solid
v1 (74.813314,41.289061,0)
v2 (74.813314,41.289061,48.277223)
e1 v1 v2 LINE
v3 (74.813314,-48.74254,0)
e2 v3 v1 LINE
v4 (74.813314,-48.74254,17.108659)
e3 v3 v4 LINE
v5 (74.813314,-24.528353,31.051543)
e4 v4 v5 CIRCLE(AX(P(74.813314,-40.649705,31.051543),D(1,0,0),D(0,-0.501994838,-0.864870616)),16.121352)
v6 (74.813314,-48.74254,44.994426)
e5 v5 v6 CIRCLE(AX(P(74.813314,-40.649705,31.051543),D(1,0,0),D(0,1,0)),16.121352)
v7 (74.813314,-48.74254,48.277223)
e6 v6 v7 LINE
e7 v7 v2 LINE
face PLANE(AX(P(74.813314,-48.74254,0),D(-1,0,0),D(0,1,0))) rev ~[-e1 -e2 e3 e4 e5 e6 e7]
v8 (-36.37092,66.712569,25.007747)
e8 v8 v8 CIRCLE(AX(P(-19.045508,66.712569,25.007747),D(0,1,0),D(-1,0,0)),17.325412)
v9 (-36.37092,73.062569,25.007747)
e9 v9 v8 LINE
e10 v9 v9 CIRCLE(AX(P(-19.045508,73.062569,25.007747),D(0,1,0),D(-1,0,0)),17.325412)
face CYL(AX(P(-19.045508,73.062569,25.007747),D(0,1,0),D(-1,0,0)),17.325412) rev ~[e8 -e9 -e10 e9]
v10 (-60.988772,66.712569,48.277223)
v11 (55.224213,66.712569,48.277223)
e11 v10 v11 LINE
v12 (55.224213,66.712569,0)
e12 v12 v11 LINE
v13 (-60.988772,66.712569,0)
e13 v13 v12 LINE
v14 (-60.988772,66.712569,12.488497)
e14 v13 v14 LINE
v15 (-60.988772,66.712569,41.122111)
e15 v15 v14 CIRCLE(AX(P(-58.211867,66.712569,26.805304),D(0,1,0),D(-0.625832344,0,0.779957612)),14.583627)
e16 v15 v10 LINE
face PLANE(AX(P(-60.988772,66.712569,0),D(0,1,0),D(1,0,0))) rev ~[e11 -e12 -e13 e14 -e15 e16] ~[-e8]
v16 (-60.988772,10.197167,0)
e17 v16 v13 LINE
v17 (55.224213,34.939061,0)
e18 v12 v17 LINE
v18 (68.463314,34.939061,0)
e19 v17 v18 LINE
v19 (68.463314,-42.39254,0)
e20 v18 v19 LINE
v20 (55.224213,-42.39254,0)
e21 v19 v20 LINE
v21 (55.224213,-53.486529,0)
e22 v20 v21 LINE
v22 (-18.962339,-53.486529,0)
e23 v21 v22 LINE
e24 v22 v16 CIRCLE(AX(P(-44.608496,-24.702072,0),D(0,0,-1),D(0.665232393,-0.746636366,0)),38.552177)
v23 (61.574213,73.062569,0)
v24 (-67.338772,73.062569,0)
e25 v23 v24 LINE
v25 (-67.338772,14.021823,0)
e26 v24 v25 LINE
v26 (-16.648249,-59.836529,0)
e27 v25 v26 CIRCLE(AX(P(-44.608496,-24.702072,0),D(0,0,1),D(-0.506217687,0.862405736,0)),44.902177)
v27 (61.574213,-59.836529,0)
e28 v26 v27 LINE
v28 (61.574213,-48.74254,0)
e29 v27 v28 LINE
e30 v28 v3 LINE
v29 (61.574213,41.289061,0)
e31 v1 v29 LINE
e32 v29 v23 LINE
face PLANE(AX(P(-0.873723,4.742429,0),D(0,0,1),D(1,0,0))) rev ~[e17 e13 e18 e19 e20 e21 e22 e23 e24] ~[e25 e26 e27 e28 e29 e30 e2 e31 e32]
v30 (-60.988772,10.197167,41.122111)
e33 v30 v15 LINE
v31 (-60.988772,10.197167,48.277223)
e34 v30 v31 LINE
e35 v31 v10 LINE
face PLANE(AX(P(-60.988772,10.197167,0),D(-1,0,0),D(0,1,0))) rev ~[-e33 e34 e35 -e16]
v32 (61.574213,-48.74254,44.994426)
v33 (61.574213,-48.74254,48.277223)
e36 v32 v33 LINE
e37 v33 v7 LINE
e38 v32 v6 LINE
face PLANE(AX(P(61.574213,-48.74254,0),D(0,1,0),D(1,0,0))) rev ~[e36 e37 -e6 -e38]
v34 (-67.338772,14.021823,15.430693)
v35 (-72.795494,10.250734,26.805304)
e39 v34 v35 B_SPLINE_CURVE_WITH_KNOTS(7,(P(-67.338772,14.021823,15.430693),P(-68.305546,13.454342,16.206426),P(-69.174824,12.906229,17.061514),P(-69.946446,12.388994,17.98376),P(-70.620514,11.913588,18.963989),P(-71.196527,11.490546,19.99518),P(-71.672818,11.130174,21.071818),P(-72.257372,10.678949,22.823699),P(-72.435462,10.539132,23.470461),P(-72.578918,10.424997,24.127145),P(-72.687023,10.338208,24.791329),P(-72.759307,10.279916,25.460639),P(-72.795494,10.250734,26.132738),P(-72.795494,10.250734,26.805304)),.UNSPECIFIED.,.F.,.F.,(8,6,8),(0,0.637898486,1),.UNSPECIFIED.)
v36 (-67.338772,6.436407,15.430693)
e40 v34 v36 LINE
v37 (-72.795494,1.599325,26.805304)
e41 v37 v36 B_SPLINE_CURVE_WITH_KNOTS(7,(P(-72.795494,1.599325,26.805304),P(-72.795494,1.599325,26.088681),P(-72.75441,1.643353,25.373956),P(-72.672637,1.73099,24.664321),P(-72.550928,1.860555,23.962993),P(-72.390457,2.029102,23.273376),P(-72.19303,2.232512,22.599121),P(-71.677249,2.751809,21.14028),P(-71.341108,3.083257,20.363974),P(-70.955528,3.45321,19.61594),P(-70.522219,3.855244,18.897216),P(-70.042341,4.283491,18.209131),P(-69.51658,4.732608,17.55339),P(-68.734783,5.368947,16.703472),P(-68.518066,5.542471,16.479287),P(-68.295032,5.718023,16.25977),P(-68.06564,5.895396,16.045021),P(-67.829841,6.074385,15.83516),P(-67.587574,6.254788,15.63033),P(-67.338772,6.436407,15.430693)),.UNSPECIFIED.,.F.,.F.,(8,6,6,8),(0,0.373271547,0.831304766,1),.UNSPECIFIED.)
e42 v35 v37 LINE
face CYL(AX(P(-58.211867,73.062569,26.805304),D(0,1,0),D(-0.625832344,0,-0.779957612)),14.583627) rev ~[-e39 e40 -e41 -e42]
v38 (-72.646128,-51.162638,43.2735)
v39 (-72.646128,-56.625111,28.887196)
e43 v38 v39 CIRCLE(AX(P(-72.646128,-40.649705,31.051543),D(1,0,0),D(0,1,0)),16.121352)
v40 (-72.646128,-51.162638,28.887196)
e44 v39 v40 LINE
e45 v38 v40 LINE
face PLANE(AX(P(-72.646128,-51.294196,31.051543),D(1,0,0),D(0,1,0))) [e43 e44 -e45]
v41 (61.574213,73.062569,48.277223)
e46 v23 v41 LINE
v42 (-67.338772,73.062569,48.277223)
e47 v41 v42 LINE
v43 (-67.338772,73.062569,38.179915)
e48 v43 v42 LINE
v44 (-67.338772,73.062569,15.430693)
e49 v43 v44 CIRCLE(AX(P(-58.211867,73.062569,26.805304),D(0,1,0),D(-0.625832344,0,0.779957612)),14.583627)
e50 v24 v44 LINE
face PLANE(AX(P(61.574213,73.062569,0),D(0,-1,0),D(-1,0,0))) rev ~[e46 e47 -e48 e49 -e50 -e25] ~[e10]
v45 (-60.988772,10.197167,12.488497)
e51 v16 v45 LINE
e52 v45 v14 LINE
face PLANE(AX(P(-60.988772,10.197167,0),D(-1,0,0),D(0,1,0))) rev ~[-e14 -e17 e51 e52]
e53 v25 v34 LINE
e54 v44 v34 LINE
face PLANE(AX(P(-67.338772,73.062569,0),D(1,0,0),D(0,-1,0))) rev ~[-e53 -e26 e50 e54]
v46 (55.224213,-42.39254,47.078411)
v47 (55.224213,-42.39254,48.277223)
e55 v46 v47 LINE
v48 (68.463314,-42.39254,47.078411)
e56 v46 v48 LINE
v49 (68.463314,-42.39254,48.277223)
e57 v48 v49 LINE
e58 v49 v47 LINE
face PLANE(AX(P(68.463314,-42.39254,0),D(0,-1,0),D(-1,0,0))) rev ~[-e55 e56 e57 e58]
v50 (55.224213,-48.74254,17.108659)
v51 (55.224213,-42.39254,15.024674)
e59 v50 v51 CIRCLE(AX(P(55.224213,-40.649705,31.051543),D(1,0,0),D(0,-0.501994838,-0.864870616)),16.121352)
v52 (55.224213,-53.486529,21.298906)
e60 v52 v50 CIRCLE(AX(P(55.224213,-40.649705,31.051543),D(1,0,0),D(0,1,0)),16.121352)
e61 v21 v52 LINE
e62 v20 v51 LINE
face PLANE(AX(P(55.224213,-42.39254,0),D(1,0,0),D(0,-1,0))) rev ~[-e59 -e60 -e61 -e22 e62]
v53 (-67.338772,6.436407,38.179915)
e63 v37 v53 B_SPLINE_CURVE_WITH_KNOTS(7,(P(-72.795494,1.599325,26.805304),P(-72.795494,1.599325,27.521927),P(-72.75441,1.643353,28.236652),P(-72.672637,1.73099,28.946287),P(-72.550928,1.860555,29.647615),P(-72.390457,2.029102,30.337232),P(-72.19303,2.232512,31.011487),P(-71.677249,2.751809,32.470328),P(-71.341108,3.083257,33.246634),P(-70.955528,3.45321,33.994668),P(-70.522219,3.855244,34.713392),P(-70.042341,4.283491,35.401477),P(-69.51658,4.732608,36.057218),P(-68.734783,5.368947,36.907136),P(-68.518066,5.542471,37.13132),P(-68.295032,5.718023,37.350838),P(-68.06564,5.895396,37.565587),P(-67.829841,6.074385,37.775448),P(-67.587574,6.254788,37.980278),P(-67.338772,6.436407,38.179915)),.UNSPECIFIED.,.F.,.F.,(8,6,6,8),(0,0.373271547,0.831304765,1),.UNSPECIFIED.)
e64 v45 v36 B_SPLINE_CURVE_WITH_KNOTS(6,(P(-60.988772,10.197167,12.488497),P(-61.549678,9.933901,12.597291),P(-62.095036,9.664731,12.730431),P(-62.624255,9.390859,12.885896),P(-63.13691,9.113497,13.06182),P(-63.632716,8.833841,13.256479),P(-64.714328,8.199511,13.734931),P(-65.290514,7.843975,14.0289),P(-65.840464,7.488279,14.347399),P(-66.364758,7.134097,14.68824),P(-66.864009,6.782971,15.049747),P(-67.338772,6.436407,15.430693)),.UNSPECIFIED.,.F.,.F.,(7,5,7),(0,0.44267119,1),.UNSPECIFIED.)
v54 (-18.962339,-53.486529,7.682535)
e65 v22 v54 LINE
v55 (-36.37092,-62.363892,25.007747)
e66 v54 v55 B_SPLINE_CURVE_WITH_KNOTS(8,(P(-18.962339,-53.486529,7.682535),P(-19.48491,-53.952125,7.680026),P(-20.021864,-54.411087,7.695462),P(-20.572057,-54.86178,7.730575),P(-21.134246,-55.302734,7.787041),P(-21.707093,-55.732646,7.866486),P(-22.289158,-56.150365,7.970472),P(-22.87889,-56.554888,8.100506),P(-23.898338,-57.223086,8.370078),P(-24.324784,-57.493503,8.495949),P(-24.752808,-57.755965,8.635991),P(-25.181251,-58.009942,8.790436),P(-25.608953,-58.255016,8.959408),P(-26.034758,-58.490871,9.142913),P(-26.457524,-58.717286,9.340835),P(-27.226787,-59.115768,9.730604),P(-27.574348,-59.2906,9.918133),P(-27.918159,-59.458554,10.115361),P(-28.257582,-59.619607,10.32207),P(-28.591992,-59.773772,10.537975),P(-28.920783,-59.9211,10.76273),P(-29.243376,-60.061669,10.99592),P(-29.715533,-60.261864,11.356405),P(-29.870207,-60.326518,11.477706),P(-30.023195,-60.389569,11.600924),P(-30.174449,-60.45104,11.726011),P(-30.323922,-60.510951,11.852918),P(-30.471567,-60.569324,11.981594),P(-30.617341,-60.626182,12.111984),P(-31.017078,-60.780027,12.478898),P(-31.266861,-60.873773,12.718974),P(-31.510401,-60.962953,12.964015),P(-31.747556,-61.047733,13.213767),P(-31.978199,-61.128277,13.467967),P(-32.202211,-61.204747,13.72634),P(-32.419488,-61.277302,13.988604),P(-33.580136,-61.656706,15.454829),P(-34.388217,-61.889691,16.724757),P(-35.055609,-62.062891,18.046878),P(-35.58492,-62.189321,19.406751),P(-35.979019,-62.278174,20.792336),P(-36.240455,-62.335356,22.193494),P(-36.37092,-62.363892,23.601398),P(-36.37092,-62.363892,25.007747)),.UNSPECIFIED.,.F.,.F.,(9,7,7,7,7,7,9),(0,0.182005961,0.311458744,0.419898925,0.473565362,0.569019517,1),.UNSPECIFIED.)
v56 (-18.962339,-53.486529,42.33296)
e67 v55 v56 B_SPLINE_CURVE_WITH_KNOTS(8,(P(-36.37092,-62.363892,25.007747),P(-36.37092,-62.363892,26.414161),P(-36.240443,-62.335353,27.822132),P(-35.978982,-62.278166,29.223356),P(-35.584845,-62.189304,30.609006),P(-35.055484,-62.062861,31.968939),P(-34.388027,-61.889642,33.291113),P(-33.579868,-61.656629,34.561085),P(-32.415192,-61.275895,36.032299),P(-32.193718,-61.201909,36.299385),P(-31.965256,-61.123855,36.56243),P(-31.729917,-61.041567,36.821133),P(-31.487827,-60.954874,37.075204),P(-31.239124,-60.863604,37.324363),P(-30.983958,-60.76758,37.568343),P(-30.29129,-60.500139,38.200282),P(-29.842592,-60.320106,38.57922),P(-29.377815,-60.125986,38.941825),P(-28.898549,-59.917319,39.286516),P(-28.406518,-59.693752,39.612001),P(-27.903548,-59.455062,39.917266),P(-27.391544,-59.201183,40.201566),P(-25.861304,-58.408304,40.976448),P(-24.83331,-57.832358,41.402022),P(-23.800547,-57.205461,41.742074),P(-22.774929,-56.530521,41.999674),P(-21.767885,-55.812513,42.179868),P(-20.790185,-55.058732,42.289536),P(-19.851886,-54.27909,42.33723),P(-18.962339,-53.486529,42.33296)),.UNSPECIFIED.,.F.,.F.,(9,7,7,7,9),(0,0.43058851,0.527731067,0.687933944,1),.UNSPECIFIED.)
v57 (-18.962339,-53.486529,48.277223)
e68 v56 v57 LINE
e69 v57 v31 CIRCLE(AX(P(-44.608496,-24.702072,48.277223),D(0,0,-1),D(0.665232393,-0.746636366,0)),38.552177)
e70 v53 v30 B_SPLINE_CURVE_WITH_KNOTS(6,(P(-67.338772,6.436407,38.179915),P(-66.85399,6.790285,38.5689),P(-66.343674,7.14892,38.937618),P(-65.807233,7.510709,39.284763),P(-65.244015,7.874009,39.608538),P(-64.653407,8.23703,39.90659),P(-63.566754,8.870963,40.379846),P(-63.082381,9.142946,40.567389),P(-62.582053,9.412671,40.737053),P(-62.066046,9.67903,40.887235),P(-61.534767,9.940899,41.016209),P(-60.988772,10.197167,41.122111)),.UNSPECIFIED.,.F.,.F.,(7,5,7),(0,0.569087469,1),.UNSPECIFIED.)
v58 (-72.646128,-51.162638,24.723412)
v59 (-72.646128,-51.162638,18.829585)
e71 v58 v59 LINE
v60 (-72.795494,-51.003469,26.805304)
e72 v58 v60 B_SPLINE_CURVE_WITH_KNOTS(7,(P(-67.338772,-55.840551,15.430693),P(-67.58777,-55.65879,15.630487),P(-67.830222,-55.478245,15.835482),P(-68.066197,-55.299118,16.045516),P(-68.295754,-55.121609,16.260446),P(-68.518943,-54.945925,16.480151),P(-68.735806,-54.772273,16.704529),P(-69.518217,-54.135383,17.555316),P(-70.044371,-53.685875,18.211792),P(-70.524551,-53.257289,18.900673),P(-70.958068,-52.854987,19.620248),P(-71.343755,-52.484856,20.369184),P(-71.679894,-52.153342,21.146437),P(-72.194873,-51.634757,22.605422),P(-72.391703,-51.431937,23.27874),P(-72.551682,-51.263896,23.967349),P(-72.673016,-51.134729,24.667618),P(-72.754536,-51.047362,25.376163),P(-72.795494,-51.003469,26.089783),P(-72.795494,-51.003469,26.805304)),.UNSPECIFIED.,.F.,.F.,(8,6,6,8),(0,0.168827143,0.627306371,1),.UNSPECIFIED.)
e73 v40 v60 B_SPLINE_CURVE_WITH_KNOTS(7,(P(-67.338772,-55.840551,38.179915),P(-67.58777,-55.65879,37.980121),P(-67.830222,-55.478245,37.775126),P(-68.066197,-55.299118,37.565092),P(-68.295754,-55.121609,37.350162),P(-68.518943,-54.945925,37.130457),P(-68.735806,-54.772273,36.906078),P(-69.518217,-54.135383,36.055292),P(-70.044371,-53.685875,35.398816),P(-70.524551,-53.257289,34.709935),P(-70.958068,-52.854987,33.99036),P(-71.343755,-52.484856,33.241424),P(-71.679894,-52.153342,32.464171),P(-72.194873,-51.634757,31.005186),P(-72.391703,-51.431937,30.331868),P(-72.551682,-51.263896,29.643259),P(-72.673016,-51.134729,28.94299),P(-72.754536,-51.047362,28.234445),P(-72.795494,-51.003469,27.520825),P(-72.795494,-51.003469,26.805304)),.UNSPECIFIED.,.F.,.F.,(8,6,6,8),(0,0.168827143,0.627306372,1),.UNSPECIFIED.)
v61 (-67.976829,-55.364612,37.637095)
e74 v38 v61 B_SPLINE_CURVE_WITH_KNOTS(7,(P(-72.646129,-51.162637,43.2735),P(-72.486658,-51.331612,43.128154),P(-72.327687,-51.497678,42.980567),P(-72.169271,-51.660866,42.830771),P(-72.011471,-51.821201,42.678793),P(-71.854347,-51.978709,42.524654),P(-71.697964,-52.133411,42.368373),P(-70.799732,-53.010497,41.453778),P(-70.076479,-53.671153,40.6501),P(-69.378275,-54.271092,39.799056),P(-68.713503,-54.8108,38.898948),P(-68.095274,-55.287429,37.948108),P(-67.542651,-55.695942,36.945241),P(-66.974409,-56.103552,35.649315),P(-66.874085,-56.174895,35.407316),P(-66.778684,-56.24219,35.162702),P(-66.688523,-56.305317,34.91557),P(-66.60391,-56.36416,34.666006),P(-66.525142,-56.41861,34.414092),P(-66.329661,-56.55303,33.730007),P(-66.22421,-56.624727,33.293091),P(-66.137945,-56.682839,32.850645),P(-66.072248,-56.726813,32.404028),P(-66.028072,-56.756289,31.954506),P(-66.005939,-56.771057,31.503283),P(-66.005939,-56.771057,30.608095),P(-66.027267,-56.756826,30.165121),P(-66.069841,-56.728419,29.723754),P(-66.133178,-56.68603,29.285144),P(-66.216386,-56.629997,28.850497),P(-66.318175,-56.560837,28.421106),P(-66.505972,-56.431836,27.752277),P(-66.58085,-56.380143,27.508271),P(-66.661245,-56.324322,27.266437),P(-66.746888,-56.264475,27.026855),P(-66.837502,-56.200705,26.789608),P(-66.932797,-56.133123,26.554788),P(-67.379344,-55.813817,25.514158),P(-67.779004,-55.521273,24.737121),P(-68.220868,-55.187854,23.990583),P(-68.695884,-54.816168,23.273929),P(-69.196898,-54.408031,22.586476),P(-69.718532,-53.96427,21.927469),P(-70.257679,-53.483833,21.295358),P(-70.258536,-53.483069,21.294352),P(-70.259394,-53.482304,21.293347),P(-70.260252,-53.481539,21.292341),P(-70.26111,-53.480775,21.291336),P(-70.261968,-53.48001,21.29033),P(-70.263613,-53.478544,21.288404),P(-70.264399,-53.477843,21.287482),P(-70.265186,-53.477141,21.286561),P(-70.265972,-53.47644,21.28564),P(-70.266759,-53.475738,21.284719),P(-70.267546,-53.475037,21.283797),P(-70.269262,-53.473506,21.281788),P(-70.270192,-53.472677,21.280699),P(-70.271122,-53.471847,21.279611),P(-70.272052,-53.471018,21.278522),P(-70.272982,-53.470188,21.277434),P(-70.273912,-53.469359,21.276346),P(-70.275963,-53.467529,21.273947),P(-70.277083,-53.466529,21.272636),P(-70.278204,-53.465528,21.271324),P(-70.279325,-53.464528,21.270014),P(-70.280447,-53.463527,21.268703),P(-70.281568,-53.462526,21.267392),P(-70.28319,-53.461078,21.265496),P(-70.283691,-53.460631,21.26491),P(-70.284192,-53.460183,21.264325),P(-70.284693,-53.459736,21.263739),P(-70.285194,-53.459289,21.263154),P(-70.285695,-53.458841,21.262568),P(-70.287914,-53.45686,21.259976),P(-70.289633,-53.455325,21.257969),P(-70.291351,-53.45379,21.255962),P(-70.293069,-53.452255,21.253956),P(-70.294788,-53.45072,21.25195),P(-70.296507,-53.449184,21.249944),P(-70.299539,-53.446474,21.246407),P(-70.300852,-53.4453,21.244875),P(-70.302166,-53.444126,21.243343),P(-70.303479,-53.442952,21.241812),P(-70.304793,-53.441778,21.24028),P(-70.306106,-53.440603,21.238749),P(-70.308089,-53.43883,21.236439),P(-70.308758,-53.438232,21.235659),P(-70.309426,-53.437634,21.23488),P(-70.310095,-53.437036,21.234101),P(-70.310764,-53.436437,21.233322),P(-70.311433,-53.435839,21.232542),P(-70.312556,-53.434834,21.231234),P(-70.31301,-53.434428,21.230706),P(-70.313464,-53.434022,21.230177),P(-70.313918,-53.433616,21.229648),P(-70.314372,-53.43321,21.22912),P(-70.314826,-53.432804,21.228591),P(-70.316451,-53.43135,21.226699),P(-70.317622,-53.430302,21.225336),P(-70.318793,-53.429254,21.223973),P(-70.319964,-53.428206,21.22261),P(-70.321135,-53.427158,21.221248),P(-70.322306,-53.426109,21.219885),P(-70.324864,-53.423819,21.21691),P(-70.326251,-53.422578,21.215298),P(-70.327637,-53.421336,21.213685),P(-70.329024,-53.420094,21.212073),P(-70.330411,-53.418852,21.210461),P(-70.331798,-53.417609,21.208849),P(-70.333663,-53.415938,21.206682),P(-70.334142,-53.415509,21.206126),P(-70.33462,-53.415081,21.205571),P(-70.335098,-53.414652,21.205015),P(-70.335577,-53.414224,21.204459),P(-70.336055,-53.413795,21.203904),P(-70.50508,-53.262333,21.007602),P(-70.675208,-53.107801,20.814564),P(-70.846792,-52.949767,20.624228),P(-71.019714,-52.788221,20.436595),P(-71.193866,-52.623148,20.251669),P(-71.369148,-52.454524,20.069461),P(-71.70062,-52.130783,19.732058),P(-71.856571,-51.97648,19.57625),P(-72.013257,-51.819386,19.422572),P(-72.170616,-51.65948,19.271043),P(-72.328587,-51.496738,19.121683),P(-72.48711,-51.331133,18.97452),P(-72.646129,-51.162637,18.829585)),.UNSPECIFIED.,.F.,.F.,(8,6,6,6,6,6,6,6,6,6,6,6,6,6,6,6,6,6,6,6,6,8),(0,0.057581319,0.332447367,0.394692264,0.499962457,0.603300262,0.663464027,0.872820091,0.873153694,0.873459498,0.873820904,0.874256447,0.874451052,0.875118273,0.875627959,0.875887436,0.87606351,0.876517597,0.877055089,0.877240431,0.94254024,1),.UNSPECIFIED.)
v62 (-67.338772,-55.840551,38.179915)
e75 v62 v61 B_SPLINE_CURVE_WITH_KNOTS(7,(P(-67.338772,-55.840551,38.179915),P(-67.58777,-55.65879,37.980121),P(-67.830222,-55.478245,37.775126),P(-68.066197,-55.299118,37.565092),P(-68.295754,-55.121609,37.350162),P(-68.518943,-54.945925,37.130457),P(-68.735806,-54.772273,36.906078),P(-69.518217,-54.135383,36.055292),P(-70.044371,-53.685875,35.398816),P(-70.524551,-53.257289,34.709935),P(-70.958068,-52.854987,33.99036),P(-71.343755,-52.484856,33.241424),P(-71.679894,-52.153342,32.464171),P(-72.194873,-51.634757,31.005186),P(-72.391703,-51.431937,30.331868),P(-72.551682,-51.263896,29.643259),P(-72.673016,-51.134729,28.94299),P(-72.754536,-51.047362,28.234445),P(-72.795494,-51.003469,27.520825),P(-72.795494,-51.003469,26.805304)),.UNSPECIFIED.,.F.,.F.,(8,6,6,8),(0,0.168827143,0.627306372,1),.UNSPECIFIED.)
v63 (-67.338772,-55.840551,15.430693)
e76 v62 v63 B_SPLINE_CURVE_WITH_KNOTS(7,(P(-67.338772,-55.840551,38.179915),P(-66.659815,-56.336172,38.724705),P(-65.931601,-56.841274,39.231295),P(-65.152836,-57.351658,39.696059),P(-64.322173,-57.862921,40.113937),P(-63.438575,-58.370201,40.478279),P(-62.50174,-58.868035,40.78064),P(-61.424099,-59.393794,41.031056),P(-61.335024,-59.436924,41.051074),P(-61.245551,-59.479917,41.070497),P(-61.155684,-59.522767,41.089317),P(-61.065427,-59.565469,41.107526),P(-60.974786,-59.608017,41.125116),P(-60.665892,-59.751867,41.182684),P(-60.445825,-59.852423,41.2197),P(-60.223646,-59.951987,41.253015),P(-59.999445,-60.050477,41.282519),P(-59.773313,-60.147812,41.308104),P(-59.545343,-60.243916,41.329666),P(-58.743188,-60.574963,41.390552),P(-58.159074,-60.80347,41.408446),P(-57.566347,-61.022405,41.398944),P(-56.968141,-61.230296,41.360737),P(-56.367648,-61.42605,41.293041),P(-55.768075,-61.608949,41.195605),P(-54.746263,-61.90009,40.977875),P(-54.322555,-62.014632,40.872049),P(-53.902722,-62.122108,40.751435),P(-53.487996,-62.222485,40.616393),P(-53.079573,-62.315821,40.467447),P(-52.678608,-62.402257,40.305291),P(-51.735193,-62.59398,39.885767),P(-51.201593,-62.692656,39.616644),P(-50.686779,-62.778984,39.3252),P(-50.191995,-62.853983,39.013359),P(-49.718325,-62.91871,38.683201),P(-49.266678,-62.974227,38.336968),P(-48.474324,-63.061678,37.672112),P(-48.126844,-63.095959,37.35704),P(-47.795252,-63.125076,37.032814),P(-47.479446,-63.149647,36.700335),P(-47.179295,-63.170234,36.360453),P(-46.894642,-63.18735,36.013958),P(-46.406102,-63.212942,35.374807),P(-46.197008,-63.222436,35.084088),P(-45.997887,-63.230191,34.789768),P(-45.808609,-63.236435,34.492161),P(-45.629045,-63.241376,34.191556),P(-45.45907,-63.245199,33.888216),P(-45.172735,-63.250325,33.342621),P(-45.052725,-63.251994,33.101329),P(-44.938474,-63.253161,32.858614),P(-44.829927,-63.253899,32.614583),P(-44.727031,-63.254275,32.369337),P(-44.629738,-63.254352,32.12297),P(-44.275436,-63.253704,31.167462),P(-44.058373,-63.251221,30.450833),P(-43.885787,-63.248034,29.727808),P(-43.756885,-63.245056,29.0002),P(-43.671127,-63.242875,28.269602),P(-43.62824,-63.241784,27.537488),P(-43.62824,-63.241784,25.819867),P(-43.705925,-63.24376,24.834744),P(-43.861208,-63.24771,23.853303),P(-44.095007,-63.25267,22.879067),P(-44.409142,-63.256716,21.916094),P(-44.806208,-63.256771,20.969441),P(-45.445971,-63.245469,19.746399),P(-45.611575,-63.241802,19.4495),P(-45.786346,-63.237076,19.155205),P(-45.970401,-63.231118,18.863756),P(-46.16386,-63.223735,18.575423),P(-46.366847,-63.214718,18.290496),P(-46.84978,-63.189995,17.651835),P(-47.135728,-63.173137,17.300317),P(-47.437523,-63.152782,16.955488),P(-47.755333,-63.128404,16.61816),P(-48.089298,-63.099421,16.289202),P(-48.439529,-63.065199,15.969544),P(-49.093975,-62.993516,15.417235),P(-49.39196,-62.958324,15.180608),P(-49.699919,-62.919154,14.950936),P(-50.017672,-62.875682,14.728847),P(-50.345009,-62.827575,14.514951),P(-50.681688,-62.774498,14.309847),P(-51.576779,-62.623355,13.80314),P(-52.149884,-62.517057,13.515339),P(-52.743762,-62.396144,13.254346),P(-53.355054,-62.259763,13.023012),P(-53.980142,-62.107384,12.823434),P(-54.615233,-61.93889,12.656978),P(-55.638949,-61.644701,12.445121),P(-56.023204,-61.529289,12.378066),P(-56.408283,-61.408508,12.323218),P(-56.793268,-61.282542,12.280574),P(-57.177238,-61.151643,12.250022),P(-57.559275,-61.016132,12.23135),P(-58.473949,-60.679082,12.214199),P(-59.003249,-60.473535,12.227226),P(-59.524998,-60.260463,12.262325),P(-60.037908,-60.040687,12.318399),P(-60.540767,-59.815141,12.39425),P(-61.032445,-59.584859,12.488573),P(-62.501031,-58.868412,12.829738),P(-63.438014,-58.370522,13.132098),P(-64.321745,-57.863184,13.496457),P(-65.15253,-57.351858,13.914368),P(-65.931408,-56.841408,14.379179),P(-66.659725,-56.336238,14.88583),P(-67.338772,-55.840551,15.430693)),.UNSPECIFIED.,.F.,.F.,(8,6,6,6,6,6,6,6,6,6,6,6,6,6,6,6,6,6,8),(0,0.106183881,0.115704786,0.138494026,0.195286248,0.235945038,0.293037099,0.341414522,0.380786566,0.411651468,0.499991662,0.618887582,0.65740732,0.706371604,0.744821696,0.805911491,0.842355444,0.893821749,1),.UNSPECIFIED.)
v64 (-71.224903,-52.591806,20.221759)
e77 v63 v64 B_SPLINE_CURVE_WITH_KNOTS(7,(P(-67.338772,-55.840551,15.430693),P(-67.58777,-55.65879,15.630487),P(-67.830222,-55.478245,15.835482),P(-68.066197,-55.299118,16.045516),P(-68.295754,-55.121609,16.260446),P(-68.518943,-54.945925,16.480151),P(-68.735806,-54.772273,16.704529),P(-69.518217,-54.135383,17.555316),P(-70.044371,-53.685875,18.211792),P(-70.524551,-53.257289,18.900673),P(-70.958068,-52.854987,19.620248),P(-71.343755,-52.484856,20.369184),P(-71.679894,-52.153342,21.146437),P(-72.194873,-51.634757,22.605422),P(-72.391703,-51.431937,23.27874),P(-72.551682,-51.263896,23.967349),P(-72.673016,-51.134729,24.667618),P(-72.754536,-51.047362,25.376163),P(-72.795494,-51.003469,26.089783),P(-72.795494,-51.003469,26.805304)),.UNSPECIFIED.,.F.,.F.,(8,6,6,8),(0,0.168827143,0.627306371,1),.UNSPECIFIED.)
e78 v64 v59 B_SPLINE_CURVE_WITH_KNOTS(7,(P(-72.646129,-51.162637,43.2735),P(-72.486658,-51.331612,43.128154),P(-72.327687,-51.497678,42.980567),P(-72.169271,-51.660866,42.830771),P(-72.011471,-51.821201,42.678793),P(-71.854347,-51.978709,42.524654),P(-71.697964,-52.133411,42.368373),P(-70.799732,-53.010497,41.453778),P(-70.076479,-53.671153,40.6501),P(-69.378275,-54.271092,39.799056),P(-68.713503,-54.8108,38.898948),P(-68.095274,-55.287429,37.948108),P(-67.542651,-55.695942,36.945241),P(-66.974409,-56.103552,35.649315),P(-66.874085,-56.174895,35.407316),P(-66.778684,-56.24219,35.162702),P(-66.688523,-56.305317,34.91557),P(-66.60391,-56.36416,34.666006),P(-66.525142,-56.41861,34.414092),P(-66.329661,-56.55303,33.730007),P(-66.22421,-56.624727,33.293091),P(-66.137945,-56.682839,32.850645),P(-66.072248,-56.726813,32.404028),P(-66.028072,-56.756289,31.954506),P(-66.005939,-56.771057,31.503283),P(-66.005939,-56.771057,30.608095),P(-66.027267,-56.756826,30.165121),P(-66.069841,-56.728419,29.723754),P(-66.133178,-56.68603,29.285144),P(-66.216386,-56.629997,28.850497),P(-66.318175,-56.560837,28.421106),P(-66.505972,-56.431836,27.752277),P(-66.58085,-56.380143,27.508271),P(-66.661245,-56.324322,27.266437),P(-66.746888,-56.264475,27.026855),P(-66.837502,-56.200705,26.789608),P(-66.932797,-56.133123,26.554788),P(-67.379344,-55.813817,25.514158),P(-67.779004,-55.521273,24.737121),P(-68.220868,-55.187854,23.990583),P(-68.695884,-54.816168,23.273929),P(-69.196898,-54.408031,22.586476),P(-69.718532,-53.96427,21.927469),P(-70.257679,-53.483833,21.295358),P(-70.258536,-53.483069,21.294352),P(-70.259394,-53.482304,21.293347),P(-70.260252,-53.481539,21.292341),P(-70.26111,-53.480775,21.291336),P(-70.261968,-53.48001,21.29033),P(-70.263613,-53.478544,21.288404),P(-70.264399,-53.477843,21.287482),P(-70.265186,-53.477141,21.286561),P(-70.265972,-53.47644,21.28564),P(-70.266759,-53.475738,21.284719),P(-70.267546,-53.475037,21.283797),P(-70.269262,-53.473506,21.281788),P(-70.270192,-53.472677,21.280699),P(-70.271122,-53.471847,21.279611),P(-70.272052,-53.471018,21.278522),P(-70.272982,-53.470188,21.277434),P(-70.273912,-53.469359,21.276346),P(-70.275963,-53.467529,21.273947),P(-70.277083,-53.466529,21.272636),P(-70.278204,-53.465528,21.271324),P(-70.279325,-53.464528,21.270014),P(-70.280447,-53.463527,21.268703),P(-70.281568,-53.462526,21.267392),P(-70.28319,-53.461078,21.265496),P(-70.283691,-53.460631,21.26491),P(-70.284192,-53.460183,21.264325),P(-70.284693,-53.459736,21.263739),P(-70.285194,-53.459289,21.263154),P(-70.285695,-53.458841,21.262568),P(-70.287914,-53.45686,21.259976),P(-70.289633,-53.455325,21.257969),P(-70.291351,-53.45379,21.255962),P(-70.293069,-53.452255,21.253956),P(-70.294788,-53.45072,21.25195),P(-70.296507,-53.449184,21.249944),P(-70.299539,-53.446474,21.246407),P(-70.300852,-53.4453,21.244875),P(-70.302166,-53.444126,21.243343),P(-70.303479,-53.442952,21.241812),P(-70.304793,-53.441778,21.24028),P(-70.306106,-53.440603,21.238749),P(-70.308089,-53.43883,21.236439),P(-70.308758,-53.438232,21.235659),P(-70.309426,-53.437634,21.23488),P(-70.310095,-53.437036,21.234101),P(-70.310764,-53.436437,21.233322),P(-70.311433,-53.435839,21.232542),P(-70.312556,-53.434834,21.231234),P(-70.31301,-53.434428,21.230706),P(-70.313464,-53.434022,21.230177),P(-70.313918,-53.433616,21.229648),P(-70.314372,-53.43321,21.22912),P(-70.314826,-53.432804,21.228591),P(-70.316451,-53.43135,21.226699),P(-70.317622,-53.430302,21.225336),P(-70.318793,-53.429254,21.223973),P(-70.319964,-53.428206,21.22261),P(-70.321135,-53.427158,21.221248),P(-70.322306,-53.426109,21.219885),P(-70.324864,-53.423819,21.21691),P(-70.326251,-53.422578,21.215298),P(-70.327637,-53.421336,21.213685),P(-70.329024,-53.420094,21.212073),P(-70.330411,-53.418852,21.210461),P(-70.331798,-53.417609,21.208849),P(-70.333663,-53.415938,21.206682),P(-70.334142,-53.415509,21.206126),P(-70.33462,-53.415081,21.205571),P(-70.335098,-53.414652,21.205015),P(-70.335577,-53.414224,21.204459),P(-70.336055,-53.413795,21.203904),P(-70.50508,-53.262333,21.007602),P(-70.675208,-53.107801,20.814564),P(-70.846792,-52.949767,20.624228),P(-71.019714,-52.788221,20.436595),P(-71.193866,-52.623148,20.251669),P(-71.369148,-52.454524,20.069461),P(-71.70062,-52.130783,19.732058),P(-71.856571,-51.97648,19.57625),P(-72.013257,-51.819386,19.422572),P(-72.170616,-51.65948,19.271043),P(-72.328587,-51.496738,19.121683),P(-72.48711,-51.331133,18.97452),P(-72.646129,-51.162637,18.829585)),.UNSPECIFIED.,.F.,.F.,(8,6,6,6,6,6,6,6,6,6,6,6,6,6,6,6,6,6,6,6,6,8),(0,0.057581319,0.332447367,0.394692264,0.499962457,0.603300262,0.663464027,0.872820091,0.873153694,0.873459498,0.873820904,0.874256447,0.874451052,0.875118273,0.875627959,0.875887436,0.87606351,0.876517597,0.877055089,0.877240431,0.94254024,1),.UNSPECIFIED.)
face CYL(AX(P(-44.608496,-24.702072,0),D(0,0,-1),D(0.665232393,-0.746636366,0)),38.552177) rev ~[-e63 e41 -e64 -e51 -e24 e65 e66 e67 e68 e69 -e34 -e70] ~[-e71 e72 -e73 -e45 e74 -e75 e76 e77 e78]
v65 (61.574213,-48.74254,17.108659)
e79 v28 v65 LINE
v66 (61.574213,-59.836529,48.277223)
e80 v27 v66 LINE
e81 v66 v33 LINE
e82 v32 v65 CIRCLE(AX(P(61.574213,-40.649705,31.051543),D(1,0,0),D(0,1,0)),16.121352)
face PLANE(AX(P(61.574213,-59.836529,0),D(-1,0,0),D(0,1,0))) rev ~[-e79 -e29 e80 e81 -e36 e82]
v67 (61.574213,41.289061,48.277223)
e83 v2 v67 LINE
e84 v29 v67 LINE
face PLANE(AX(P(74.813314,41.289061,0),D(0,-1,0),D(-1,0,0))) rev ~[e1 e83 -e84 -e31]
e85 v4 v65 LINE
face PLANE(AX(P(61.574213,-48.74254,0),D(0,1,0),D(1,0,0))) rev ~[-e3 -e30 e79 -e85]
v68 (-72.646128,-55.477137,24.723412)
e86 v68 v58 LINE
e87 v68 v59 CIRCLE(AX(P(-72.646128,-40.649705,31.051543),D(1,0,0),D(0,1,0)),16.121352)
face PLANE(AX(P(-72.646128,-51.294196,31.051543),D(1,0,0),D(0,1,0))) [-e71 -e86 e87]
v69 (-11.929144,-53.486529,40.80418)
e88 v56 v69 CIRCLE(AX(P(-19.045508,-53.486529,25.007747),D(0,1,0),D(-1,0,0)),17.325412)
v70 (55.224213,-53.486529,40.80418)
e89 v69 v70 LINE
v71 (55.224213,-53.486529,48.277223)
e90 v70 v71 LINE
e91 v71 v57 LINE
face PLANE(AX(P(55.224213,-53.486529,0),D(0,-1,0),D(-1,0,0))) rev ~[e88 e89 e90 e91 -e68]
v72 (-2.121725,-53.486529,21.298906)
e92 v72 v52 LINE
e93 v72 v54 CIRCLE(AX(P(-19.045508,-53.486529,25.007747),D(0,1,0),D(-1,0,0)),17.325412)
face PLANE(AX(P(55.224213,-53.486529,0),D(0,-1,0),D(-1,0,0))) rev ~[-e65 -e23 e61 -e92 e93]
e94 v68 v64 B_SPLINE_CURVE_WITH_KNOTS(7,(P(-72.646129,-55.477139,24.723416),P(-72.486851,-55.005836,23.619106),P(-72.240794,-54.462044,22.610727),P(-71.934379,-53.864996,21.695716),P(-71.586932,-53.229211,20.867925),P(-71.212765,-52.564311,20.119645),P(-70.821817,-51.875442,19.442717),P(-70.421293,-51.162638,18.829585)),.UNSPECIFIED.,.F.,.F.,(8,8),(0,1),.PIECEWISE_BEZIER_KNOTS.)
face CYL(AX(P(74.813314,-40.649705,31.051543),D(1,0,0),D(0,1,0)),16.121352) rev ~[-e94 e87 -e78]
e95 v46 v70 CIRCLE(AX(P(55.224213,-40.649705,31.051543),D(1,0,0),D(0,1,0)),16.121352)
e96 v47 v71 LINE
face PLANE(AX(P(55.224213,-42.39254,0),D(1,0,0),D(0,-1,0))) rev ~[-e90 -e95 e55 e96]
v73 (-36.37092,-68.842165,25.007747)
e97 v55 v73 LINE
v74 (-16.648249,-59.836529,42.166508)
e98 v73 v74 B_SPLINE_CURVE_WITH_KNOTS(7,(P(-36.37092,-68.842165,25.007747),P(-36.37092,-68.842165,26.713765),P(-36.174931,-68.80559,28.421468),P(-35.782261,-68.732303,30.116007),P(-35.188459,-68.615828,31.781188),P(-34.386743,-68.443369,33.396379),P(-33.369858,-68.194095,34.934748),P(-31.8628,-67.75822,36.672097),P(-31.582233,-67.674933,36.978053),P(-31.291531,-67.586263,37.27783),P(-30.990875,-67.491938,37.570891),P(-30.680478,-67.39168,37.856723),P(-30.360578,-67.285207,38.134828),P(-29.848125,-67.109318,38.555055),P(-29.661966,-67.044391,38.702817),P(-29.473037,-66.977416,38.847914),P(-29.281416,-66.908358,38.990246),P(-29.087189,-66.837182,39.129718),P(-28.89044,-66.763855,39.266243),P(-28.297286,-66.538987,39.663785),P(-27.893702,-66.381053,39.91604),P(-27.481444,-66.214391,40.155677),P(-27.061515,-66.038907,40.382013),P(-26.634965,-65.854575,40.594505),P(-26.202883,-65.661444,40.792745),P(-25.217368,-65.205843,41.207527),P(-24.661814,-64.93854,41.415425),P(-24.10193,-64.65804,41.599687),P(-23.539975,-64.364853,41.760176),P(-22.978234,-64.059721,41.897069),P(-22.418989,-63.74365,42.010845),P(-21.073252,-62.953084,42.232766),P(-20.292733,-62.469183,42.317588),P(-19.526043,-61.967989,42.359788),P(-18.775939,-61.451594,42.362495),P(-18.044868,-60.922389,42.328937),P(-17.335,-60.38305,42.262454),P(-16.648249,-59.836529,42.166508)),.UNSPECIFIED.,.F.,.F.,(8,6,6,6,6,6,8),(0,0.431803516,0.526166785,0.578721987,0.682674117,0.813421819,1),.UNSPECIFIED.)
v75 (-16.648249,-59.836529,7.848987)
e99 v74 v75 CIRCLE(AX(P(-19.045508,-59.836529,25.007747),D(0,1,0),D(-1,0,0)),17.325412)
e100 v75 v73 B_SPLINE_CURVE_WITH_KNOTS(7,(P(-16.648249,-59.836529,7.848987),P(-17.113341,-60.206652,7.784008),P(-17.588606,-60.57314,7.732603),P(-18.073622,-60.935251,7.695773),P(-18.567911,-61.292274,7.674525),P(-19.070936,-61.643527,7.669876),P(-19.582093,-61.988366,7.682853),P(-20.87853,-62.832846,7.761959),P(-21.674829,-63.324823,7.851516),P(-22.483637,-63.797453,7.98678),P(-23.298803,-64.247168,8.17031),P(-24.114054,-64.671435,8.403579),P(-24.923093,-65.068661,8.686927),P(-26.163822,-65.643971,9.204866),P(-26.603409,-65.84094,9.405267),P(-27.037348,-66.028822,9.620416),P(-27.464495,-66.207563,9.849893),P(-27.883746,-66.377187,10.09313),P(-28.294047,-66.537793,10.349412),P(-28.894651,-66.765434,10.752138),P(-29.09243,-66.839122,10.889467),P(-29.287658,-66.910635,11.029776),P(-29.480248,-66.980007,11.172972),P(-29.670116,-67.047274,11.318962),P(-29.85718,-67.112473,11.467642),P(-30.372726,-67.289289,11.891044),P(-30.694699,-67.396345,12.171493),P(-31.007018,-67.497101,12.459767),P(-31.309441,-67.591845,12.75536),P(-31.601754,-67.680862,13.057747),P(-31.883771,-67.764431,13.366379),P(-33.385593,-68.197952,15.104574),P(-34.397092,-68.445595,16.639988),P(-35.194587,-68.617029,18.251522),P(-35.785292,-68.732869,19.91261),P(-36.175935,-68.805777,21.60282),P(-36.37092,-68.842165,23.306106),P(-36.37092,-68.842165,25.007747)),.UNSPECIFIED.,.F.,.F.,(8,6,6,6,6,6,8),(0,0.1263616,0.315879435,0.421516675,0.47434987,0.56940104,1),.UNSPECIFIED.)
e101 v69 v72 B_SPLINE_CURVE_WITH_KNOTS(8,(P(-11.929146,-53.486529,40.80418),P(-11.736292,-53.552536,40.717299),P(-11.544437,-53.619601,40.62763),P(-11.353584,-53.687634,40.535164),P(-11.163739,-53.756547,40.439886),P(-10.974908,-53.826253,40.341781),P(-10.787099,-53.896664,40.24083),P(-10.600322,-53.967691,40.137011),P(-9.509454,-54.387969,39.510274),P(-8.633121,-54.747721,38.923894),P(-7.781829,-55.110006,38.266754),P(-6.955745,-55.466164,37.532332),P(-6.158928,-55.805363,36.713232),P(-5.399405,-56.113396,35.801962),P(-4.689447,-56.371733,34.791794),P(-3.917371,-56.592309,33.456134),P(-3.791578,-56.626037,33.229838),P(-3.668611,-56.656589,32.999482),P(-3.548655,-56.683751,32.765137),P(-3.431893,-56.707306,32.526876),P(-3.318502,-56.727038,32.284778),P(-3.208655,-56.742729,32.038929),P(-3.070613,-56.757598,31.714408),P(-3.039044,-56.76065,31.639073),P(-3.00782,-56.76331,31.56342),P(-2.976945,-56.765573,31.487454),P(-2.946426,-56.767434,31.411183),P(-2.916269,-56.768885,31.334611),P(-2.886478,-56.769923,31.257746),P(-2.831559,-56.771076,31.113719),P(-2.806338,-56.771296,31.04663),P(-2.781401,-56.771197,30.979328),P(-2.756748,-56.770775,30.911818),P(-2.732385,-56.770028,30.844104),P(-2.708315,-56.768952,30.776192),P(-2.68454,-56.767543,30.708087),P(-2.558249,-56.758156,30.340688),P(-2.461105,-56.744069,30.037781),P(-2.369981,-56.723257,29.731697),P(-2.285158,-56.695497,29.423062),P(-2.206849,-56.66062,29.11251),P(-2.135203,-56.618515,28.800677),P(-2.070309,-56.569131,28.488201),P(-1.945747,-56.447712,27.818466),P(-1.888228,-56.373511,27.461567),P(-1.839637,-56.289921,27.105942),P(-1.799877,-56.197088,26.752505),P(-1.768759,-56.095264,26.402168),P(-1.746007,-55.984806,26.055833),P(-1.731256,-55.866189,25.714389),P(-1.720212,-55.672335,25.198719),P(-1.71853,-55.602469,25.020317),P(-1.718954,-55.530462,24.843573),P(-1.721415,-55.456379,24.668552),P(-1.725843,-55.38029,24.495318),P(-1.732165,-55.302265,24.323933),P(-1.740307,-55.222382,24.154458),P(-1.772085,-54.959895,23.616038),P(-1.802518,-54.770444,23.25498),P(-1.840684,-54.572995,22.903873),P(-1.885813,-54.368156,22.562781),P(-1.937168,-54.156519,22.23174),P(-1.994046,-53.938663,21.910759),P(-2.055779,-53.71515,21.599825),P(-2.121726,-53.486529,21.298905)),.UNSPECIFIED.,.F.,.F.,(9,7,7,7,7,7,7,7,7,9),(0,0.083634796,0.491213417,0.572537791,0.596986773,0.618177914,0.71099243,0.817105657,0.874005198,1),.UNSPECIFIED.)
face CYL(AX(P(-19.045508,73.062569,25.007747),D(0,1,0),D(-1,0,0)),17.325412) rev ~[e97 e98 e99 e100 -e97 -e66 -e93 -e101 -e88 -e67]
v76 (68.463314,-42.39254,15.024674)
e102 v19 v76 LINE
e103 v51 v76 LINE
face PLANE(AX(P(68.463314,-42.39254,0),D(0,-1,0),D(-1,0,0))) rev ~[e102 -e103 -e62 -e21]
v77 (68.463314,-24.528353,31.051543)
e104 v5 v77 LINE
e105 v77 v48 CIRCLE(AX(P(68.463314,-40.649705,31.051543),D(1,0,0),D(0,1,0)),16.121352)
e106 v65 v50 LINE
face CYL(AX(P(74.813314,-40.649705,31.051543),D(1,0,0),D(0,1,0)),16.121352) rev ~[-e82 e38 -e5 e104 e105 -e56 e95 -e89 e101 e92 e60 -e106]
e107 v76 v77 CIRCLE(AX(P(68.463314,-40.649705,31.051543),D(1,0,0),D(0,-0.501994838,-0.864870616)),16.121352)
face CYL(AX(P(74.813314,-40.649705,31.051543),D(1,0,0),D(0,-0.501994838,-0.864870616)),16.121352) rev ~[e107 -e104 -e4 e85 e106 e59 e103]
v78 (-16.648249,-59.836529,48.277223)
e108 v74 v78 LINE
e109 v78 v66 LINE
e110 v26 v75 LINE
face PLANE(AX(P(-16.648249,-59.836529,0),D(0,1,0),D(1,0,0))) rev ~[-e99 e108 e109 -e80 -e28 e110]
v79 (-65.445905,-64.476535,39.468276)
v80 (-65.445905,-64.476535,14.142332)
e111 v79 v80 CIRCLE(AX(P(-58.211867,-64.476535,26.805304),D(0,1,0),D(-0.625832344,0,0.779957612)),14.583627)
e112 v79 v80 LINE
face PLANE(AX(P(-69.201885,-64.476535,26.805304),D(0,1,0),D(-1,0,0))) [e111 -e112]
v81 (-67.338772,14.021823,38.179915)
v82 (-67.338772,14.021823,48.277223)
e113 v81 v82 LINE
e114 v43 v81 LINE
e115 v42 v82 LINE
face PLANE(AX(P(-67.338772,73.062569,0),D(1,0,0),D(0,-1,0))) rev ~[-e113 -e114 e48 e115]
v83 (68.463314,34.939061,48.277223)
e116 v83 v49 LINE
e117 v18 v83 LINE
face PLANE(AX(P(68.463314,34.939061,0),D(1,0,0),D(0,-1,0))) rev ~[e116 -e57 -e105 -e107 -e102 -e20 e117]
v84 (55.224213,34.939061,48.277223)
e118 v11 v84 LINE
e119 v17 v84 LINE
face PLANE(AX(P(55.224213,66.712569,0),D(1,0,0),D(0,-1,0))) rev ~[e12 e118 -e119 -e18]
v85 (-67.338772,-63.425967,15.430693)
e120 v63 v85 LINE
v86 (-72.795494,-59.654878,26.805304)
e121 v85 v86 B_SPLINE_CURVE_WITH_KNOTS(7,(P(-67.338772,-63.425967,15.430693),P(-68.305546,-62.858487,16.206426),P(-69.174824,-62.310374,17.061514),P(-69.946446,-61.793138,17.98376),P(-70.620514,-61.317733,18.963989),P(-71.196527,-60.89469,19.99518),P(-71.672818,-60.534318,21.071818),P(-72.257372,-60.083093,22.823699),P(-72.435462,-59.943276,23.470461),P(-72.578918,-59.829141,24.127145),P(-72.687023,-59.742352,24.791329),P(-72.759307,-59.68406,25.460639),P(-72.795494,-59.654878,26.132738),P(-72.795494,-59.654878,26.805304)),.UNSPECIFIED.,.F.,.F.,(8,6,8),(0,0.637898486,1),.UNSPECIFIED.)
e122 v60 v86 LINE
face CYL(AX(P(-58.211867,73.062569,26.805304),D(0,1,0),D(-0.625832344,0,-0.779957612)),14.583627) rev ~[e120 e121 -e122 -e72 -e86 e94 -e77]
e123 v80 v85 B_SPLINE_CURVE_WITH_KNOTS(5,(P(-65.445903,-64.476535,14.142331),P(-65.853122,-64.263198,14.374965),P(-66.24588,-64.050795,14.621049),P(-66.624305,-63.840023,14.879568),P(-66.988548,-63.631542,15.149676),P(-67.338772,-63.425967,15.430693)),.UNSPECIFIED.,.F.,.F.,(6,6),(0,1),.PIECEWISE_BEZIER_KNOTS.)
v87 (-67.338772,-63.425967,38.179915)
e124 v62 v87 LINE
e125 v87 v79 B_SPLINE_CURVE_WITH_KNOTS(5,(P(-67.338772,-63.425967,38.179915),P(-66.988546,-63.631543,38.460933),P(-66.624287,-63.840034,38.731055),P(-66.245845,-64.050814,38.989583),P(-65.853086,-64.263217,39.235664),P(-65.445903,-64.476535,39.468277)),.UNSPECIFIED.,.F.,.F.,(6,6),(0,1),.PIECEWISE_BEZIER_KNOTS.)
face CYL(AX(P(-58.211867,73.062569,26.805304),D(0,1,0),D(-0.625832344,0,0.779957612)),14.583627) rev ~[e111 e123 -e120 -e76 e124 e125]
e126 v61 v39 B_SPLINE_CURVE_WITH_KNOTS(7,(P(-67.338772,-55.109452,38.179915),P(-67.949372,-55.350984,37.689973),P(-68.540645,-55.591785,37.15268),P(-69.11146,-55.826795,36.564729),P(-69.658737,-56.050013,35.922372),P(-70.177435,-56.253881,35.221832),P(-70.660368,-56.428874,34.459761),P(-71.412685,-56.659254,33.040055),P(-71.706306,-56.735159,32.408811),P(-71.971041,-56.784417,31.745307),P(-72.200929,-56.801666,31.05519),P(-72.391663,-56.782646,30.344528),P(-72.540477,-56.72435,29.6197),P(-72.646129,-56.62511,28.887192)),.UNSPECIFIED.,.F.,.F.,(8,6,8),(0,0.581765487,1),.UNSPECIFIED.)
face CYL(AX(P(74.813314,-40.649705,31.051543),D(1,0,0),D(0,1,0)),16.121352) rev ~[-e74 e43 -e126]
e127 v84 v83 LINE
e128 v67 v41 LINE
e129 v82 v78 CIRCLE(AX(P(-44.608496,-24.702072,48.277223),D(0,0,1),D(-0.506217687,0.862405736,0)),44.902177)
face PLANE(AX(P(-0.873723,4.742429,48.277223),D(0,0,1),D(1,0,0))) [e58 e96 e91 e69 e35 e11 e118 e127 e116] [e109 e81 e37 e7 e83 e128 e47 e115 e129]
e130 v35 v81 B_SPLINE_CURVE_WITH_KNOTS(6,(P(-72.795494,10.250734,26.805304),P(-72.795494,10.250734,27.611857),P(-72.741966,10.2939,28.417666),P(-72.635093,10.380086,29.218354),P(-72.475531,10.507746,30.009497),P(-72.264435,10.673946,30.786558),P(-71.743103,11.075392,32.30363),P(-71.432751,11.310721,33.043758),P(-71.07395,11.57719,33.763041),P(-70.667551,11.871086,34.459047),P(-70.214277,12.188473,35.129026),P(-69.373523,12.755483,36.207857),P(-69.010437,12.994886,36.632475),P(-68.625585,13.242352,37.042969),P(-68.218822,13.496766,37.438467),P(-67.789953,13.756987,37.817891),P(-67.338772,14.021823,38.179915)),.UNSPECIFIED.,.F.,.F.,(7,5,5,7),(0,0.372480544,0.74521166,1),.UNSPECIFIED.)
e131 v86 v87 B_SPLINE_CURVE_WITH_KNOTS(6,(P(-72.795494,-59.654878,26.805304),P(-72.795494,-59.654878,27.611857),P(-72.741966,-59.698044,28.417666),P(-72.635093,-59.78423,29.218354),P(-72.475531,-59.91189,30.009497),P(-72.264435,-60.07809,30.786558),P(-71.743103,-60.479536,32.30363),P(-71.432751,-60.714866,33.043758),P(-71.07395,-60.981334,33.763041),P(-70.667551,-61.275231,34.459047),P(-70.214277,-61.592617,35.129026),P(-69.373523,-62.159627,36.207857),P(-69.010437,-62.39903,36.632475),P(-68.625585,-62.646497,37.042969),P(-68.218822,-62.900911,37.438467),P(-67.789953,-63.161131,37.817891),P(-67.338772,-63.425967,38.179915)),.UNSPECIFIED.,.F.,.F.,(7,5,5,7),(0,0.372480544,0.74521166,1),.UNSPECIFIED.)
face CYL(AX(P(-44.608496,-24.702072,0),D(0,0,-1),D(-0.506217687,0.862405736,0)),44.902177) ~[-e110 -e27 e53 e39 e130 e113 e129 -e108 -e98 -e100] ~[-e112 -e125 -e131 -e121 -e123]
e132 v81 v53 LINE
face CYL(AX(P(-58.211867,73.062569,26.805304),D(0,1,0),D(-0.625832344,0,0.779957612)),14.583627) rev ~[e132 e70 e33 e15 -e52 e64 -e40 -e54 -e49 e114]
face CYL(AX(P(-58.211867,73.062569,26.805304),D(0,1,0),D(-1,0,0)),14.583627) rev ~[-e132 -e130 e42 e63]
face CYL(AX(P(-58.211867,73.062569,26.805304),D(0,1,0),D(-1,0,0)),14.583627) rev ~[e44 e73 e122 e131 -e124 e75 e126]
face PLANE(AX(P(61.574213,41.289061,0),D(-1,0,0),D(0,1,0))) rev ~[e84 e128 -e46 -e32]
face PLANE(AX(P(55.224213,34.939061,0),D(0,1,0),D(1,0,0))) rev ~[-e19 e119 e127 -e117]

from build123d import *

# Parameters (mm, degrees)
F1_DEPTH = 48.2772234827
F2_R     = 17.3254122278
F3_DEPTH = 178.0532356352
F6_DEPTH = 147.4594417959
F8_DEPTH = 137.5391036272


with BuildPart() as f1:
    # F0 (on Top) → F1 (new body)
    with BuildSketch(Plane.XY):
        with BuildLine():
            Line((61.5742132068, 73.062568903), (-67.3387721181, 73.062568903))
            Line((-67.3387721181, 73.062568903), (-67.3387721181, 14.0218225376))
            ThreePointArc((-67.3387721181, 14.0218225376), (-81.6301408592, -50.1107967732), (-16.6482494662, -59.8365291953))
            Line((-16.6482494662, -59.8365291953), (61.5742132068, -59.8365291953))
            Line((61.5742132068, -59.8365291953), (61.5742132068, -48.7425401807))
            Line((61.5742132068, -48.7425401807), (74.8133137822, -48.7425401807))
            Line((74.8133137822, -48.7425401807), (74.8133137822, 41.2890613079))
            Line((74.8133137822, 41.2890613079), (61.5742132068, 41.2890613079))
            Line((61.5742132068, 41.2890613079), (61.5742132068, 73.062568903))
        make_face()
        with BuildLine():
            Line((-60.9887721181, 66.712568903), (55.2242132068, 66.712568903))
            Line((55.2242132068, 66.712568903), (55.2242132068, 34.9390613079))
            Line((55.2242132068, 34.9390613079), (68.4633137822, 34.9390613079))
            Line((68.4633137822, 34.9390613079), (68.4633137822, -42.3925401807))
            Line((68.4633137822, -42.3925401807), (55.2242132068, -42.3925401807))
            Line((55.2242132068, -42.3925401807), (55.2242132068, -53.4865291953))
            Line((55.2242132068, -53.4865291953), (-18.9623394024, -53.4865291953))
            ThreePointArc((-18.9623394024, -53.4865291953), (-76.785621878, -45.9365465001), (-60.9887721181, 10.1971668335))
            Line((-60.9887721181, 10.1971668335), (-60.9887721181, 66.712568903))
        make_face(mode=Mode.SUBTRACT)
    extrude(amount=F1_DEPTH)

    # F2 (on face) → F3 (cut)
    with BuildSketch(Plane(origin=(0, 73.062568903, 0), x_dir=(-1, 0, 0), z_dir=(0, 1, 0))):
        with Locations((19.0455075353, 25.0077471137)):
            Circle(F2_R)
    extrude(amount=-F3_DEPTH, mode=Mode.SUBTRACT)

    # F5 (on face) → F6 (cut)
    with BuildSketch(Plane.YZ.offset(74.8133137822)):
        with BuildLine():
            Line((-48.7425401807, 17.1086588609), (-48.7425401807, 44.9944263589))
            ThreePointArc((-48.7425401807, 44.9944263589), (-56.7710567622, 31.0515426099), (-48.7425401807, 17.1086588609))
        make_face()
        with BuildLine():
            ThreePointArc((-48.7425401807, 17.1086588609), (-32.6051243829, 17.0807615663), (-24.5283525081, 31.0515426099))
            ThreePointArc((-24.5283525081, 31.0515426099), (-32.6051243829, 45.0223236536), (-48.7425401807, 44.9944263589))
            Line((-48.7425401807, 44.9944263589), (-48.7425401807, 17.1086588609))
        make_face()
    extrude(amount=-F6_DEPTH, mode=Mode.SUBTRACT)

    # F7 (on face) → F8 (cut)
    with BuildSketch(Plane(origin=(0, 73.062568903, 0), x_dir=(-1, 0, 0), z_dir=(0, 1, 0))):
        with BuildLine():
            ThreePointArc((67.3387721181, 15.4306932509), (71.3607365337, 20.4974204611), (72.7954935712, 26.8053039908))
            ThreePointArc((72.7954935712, 26.8053039908), (71.3607365337, 33.1131875206), (67.3387721181, 38.1799147308))
            Line((67.3387721181, 38.1799147308), (67.3387721181, 15.4306932509))
        make_face()
        with BuildLine():
            Line((67.3387721181, 15.4306932509), (67.3387721181, 38.1799147308))
            ThreePointArc((67.3387721181, 38.1799147308), (43.6282399612, 26.8053039908), (67.3387721181, 15.4306932509))
        make_face()
    extrude(amount=-F8_DEPTH, mode=Mode.SUBTRACT)


solid = f1.part
